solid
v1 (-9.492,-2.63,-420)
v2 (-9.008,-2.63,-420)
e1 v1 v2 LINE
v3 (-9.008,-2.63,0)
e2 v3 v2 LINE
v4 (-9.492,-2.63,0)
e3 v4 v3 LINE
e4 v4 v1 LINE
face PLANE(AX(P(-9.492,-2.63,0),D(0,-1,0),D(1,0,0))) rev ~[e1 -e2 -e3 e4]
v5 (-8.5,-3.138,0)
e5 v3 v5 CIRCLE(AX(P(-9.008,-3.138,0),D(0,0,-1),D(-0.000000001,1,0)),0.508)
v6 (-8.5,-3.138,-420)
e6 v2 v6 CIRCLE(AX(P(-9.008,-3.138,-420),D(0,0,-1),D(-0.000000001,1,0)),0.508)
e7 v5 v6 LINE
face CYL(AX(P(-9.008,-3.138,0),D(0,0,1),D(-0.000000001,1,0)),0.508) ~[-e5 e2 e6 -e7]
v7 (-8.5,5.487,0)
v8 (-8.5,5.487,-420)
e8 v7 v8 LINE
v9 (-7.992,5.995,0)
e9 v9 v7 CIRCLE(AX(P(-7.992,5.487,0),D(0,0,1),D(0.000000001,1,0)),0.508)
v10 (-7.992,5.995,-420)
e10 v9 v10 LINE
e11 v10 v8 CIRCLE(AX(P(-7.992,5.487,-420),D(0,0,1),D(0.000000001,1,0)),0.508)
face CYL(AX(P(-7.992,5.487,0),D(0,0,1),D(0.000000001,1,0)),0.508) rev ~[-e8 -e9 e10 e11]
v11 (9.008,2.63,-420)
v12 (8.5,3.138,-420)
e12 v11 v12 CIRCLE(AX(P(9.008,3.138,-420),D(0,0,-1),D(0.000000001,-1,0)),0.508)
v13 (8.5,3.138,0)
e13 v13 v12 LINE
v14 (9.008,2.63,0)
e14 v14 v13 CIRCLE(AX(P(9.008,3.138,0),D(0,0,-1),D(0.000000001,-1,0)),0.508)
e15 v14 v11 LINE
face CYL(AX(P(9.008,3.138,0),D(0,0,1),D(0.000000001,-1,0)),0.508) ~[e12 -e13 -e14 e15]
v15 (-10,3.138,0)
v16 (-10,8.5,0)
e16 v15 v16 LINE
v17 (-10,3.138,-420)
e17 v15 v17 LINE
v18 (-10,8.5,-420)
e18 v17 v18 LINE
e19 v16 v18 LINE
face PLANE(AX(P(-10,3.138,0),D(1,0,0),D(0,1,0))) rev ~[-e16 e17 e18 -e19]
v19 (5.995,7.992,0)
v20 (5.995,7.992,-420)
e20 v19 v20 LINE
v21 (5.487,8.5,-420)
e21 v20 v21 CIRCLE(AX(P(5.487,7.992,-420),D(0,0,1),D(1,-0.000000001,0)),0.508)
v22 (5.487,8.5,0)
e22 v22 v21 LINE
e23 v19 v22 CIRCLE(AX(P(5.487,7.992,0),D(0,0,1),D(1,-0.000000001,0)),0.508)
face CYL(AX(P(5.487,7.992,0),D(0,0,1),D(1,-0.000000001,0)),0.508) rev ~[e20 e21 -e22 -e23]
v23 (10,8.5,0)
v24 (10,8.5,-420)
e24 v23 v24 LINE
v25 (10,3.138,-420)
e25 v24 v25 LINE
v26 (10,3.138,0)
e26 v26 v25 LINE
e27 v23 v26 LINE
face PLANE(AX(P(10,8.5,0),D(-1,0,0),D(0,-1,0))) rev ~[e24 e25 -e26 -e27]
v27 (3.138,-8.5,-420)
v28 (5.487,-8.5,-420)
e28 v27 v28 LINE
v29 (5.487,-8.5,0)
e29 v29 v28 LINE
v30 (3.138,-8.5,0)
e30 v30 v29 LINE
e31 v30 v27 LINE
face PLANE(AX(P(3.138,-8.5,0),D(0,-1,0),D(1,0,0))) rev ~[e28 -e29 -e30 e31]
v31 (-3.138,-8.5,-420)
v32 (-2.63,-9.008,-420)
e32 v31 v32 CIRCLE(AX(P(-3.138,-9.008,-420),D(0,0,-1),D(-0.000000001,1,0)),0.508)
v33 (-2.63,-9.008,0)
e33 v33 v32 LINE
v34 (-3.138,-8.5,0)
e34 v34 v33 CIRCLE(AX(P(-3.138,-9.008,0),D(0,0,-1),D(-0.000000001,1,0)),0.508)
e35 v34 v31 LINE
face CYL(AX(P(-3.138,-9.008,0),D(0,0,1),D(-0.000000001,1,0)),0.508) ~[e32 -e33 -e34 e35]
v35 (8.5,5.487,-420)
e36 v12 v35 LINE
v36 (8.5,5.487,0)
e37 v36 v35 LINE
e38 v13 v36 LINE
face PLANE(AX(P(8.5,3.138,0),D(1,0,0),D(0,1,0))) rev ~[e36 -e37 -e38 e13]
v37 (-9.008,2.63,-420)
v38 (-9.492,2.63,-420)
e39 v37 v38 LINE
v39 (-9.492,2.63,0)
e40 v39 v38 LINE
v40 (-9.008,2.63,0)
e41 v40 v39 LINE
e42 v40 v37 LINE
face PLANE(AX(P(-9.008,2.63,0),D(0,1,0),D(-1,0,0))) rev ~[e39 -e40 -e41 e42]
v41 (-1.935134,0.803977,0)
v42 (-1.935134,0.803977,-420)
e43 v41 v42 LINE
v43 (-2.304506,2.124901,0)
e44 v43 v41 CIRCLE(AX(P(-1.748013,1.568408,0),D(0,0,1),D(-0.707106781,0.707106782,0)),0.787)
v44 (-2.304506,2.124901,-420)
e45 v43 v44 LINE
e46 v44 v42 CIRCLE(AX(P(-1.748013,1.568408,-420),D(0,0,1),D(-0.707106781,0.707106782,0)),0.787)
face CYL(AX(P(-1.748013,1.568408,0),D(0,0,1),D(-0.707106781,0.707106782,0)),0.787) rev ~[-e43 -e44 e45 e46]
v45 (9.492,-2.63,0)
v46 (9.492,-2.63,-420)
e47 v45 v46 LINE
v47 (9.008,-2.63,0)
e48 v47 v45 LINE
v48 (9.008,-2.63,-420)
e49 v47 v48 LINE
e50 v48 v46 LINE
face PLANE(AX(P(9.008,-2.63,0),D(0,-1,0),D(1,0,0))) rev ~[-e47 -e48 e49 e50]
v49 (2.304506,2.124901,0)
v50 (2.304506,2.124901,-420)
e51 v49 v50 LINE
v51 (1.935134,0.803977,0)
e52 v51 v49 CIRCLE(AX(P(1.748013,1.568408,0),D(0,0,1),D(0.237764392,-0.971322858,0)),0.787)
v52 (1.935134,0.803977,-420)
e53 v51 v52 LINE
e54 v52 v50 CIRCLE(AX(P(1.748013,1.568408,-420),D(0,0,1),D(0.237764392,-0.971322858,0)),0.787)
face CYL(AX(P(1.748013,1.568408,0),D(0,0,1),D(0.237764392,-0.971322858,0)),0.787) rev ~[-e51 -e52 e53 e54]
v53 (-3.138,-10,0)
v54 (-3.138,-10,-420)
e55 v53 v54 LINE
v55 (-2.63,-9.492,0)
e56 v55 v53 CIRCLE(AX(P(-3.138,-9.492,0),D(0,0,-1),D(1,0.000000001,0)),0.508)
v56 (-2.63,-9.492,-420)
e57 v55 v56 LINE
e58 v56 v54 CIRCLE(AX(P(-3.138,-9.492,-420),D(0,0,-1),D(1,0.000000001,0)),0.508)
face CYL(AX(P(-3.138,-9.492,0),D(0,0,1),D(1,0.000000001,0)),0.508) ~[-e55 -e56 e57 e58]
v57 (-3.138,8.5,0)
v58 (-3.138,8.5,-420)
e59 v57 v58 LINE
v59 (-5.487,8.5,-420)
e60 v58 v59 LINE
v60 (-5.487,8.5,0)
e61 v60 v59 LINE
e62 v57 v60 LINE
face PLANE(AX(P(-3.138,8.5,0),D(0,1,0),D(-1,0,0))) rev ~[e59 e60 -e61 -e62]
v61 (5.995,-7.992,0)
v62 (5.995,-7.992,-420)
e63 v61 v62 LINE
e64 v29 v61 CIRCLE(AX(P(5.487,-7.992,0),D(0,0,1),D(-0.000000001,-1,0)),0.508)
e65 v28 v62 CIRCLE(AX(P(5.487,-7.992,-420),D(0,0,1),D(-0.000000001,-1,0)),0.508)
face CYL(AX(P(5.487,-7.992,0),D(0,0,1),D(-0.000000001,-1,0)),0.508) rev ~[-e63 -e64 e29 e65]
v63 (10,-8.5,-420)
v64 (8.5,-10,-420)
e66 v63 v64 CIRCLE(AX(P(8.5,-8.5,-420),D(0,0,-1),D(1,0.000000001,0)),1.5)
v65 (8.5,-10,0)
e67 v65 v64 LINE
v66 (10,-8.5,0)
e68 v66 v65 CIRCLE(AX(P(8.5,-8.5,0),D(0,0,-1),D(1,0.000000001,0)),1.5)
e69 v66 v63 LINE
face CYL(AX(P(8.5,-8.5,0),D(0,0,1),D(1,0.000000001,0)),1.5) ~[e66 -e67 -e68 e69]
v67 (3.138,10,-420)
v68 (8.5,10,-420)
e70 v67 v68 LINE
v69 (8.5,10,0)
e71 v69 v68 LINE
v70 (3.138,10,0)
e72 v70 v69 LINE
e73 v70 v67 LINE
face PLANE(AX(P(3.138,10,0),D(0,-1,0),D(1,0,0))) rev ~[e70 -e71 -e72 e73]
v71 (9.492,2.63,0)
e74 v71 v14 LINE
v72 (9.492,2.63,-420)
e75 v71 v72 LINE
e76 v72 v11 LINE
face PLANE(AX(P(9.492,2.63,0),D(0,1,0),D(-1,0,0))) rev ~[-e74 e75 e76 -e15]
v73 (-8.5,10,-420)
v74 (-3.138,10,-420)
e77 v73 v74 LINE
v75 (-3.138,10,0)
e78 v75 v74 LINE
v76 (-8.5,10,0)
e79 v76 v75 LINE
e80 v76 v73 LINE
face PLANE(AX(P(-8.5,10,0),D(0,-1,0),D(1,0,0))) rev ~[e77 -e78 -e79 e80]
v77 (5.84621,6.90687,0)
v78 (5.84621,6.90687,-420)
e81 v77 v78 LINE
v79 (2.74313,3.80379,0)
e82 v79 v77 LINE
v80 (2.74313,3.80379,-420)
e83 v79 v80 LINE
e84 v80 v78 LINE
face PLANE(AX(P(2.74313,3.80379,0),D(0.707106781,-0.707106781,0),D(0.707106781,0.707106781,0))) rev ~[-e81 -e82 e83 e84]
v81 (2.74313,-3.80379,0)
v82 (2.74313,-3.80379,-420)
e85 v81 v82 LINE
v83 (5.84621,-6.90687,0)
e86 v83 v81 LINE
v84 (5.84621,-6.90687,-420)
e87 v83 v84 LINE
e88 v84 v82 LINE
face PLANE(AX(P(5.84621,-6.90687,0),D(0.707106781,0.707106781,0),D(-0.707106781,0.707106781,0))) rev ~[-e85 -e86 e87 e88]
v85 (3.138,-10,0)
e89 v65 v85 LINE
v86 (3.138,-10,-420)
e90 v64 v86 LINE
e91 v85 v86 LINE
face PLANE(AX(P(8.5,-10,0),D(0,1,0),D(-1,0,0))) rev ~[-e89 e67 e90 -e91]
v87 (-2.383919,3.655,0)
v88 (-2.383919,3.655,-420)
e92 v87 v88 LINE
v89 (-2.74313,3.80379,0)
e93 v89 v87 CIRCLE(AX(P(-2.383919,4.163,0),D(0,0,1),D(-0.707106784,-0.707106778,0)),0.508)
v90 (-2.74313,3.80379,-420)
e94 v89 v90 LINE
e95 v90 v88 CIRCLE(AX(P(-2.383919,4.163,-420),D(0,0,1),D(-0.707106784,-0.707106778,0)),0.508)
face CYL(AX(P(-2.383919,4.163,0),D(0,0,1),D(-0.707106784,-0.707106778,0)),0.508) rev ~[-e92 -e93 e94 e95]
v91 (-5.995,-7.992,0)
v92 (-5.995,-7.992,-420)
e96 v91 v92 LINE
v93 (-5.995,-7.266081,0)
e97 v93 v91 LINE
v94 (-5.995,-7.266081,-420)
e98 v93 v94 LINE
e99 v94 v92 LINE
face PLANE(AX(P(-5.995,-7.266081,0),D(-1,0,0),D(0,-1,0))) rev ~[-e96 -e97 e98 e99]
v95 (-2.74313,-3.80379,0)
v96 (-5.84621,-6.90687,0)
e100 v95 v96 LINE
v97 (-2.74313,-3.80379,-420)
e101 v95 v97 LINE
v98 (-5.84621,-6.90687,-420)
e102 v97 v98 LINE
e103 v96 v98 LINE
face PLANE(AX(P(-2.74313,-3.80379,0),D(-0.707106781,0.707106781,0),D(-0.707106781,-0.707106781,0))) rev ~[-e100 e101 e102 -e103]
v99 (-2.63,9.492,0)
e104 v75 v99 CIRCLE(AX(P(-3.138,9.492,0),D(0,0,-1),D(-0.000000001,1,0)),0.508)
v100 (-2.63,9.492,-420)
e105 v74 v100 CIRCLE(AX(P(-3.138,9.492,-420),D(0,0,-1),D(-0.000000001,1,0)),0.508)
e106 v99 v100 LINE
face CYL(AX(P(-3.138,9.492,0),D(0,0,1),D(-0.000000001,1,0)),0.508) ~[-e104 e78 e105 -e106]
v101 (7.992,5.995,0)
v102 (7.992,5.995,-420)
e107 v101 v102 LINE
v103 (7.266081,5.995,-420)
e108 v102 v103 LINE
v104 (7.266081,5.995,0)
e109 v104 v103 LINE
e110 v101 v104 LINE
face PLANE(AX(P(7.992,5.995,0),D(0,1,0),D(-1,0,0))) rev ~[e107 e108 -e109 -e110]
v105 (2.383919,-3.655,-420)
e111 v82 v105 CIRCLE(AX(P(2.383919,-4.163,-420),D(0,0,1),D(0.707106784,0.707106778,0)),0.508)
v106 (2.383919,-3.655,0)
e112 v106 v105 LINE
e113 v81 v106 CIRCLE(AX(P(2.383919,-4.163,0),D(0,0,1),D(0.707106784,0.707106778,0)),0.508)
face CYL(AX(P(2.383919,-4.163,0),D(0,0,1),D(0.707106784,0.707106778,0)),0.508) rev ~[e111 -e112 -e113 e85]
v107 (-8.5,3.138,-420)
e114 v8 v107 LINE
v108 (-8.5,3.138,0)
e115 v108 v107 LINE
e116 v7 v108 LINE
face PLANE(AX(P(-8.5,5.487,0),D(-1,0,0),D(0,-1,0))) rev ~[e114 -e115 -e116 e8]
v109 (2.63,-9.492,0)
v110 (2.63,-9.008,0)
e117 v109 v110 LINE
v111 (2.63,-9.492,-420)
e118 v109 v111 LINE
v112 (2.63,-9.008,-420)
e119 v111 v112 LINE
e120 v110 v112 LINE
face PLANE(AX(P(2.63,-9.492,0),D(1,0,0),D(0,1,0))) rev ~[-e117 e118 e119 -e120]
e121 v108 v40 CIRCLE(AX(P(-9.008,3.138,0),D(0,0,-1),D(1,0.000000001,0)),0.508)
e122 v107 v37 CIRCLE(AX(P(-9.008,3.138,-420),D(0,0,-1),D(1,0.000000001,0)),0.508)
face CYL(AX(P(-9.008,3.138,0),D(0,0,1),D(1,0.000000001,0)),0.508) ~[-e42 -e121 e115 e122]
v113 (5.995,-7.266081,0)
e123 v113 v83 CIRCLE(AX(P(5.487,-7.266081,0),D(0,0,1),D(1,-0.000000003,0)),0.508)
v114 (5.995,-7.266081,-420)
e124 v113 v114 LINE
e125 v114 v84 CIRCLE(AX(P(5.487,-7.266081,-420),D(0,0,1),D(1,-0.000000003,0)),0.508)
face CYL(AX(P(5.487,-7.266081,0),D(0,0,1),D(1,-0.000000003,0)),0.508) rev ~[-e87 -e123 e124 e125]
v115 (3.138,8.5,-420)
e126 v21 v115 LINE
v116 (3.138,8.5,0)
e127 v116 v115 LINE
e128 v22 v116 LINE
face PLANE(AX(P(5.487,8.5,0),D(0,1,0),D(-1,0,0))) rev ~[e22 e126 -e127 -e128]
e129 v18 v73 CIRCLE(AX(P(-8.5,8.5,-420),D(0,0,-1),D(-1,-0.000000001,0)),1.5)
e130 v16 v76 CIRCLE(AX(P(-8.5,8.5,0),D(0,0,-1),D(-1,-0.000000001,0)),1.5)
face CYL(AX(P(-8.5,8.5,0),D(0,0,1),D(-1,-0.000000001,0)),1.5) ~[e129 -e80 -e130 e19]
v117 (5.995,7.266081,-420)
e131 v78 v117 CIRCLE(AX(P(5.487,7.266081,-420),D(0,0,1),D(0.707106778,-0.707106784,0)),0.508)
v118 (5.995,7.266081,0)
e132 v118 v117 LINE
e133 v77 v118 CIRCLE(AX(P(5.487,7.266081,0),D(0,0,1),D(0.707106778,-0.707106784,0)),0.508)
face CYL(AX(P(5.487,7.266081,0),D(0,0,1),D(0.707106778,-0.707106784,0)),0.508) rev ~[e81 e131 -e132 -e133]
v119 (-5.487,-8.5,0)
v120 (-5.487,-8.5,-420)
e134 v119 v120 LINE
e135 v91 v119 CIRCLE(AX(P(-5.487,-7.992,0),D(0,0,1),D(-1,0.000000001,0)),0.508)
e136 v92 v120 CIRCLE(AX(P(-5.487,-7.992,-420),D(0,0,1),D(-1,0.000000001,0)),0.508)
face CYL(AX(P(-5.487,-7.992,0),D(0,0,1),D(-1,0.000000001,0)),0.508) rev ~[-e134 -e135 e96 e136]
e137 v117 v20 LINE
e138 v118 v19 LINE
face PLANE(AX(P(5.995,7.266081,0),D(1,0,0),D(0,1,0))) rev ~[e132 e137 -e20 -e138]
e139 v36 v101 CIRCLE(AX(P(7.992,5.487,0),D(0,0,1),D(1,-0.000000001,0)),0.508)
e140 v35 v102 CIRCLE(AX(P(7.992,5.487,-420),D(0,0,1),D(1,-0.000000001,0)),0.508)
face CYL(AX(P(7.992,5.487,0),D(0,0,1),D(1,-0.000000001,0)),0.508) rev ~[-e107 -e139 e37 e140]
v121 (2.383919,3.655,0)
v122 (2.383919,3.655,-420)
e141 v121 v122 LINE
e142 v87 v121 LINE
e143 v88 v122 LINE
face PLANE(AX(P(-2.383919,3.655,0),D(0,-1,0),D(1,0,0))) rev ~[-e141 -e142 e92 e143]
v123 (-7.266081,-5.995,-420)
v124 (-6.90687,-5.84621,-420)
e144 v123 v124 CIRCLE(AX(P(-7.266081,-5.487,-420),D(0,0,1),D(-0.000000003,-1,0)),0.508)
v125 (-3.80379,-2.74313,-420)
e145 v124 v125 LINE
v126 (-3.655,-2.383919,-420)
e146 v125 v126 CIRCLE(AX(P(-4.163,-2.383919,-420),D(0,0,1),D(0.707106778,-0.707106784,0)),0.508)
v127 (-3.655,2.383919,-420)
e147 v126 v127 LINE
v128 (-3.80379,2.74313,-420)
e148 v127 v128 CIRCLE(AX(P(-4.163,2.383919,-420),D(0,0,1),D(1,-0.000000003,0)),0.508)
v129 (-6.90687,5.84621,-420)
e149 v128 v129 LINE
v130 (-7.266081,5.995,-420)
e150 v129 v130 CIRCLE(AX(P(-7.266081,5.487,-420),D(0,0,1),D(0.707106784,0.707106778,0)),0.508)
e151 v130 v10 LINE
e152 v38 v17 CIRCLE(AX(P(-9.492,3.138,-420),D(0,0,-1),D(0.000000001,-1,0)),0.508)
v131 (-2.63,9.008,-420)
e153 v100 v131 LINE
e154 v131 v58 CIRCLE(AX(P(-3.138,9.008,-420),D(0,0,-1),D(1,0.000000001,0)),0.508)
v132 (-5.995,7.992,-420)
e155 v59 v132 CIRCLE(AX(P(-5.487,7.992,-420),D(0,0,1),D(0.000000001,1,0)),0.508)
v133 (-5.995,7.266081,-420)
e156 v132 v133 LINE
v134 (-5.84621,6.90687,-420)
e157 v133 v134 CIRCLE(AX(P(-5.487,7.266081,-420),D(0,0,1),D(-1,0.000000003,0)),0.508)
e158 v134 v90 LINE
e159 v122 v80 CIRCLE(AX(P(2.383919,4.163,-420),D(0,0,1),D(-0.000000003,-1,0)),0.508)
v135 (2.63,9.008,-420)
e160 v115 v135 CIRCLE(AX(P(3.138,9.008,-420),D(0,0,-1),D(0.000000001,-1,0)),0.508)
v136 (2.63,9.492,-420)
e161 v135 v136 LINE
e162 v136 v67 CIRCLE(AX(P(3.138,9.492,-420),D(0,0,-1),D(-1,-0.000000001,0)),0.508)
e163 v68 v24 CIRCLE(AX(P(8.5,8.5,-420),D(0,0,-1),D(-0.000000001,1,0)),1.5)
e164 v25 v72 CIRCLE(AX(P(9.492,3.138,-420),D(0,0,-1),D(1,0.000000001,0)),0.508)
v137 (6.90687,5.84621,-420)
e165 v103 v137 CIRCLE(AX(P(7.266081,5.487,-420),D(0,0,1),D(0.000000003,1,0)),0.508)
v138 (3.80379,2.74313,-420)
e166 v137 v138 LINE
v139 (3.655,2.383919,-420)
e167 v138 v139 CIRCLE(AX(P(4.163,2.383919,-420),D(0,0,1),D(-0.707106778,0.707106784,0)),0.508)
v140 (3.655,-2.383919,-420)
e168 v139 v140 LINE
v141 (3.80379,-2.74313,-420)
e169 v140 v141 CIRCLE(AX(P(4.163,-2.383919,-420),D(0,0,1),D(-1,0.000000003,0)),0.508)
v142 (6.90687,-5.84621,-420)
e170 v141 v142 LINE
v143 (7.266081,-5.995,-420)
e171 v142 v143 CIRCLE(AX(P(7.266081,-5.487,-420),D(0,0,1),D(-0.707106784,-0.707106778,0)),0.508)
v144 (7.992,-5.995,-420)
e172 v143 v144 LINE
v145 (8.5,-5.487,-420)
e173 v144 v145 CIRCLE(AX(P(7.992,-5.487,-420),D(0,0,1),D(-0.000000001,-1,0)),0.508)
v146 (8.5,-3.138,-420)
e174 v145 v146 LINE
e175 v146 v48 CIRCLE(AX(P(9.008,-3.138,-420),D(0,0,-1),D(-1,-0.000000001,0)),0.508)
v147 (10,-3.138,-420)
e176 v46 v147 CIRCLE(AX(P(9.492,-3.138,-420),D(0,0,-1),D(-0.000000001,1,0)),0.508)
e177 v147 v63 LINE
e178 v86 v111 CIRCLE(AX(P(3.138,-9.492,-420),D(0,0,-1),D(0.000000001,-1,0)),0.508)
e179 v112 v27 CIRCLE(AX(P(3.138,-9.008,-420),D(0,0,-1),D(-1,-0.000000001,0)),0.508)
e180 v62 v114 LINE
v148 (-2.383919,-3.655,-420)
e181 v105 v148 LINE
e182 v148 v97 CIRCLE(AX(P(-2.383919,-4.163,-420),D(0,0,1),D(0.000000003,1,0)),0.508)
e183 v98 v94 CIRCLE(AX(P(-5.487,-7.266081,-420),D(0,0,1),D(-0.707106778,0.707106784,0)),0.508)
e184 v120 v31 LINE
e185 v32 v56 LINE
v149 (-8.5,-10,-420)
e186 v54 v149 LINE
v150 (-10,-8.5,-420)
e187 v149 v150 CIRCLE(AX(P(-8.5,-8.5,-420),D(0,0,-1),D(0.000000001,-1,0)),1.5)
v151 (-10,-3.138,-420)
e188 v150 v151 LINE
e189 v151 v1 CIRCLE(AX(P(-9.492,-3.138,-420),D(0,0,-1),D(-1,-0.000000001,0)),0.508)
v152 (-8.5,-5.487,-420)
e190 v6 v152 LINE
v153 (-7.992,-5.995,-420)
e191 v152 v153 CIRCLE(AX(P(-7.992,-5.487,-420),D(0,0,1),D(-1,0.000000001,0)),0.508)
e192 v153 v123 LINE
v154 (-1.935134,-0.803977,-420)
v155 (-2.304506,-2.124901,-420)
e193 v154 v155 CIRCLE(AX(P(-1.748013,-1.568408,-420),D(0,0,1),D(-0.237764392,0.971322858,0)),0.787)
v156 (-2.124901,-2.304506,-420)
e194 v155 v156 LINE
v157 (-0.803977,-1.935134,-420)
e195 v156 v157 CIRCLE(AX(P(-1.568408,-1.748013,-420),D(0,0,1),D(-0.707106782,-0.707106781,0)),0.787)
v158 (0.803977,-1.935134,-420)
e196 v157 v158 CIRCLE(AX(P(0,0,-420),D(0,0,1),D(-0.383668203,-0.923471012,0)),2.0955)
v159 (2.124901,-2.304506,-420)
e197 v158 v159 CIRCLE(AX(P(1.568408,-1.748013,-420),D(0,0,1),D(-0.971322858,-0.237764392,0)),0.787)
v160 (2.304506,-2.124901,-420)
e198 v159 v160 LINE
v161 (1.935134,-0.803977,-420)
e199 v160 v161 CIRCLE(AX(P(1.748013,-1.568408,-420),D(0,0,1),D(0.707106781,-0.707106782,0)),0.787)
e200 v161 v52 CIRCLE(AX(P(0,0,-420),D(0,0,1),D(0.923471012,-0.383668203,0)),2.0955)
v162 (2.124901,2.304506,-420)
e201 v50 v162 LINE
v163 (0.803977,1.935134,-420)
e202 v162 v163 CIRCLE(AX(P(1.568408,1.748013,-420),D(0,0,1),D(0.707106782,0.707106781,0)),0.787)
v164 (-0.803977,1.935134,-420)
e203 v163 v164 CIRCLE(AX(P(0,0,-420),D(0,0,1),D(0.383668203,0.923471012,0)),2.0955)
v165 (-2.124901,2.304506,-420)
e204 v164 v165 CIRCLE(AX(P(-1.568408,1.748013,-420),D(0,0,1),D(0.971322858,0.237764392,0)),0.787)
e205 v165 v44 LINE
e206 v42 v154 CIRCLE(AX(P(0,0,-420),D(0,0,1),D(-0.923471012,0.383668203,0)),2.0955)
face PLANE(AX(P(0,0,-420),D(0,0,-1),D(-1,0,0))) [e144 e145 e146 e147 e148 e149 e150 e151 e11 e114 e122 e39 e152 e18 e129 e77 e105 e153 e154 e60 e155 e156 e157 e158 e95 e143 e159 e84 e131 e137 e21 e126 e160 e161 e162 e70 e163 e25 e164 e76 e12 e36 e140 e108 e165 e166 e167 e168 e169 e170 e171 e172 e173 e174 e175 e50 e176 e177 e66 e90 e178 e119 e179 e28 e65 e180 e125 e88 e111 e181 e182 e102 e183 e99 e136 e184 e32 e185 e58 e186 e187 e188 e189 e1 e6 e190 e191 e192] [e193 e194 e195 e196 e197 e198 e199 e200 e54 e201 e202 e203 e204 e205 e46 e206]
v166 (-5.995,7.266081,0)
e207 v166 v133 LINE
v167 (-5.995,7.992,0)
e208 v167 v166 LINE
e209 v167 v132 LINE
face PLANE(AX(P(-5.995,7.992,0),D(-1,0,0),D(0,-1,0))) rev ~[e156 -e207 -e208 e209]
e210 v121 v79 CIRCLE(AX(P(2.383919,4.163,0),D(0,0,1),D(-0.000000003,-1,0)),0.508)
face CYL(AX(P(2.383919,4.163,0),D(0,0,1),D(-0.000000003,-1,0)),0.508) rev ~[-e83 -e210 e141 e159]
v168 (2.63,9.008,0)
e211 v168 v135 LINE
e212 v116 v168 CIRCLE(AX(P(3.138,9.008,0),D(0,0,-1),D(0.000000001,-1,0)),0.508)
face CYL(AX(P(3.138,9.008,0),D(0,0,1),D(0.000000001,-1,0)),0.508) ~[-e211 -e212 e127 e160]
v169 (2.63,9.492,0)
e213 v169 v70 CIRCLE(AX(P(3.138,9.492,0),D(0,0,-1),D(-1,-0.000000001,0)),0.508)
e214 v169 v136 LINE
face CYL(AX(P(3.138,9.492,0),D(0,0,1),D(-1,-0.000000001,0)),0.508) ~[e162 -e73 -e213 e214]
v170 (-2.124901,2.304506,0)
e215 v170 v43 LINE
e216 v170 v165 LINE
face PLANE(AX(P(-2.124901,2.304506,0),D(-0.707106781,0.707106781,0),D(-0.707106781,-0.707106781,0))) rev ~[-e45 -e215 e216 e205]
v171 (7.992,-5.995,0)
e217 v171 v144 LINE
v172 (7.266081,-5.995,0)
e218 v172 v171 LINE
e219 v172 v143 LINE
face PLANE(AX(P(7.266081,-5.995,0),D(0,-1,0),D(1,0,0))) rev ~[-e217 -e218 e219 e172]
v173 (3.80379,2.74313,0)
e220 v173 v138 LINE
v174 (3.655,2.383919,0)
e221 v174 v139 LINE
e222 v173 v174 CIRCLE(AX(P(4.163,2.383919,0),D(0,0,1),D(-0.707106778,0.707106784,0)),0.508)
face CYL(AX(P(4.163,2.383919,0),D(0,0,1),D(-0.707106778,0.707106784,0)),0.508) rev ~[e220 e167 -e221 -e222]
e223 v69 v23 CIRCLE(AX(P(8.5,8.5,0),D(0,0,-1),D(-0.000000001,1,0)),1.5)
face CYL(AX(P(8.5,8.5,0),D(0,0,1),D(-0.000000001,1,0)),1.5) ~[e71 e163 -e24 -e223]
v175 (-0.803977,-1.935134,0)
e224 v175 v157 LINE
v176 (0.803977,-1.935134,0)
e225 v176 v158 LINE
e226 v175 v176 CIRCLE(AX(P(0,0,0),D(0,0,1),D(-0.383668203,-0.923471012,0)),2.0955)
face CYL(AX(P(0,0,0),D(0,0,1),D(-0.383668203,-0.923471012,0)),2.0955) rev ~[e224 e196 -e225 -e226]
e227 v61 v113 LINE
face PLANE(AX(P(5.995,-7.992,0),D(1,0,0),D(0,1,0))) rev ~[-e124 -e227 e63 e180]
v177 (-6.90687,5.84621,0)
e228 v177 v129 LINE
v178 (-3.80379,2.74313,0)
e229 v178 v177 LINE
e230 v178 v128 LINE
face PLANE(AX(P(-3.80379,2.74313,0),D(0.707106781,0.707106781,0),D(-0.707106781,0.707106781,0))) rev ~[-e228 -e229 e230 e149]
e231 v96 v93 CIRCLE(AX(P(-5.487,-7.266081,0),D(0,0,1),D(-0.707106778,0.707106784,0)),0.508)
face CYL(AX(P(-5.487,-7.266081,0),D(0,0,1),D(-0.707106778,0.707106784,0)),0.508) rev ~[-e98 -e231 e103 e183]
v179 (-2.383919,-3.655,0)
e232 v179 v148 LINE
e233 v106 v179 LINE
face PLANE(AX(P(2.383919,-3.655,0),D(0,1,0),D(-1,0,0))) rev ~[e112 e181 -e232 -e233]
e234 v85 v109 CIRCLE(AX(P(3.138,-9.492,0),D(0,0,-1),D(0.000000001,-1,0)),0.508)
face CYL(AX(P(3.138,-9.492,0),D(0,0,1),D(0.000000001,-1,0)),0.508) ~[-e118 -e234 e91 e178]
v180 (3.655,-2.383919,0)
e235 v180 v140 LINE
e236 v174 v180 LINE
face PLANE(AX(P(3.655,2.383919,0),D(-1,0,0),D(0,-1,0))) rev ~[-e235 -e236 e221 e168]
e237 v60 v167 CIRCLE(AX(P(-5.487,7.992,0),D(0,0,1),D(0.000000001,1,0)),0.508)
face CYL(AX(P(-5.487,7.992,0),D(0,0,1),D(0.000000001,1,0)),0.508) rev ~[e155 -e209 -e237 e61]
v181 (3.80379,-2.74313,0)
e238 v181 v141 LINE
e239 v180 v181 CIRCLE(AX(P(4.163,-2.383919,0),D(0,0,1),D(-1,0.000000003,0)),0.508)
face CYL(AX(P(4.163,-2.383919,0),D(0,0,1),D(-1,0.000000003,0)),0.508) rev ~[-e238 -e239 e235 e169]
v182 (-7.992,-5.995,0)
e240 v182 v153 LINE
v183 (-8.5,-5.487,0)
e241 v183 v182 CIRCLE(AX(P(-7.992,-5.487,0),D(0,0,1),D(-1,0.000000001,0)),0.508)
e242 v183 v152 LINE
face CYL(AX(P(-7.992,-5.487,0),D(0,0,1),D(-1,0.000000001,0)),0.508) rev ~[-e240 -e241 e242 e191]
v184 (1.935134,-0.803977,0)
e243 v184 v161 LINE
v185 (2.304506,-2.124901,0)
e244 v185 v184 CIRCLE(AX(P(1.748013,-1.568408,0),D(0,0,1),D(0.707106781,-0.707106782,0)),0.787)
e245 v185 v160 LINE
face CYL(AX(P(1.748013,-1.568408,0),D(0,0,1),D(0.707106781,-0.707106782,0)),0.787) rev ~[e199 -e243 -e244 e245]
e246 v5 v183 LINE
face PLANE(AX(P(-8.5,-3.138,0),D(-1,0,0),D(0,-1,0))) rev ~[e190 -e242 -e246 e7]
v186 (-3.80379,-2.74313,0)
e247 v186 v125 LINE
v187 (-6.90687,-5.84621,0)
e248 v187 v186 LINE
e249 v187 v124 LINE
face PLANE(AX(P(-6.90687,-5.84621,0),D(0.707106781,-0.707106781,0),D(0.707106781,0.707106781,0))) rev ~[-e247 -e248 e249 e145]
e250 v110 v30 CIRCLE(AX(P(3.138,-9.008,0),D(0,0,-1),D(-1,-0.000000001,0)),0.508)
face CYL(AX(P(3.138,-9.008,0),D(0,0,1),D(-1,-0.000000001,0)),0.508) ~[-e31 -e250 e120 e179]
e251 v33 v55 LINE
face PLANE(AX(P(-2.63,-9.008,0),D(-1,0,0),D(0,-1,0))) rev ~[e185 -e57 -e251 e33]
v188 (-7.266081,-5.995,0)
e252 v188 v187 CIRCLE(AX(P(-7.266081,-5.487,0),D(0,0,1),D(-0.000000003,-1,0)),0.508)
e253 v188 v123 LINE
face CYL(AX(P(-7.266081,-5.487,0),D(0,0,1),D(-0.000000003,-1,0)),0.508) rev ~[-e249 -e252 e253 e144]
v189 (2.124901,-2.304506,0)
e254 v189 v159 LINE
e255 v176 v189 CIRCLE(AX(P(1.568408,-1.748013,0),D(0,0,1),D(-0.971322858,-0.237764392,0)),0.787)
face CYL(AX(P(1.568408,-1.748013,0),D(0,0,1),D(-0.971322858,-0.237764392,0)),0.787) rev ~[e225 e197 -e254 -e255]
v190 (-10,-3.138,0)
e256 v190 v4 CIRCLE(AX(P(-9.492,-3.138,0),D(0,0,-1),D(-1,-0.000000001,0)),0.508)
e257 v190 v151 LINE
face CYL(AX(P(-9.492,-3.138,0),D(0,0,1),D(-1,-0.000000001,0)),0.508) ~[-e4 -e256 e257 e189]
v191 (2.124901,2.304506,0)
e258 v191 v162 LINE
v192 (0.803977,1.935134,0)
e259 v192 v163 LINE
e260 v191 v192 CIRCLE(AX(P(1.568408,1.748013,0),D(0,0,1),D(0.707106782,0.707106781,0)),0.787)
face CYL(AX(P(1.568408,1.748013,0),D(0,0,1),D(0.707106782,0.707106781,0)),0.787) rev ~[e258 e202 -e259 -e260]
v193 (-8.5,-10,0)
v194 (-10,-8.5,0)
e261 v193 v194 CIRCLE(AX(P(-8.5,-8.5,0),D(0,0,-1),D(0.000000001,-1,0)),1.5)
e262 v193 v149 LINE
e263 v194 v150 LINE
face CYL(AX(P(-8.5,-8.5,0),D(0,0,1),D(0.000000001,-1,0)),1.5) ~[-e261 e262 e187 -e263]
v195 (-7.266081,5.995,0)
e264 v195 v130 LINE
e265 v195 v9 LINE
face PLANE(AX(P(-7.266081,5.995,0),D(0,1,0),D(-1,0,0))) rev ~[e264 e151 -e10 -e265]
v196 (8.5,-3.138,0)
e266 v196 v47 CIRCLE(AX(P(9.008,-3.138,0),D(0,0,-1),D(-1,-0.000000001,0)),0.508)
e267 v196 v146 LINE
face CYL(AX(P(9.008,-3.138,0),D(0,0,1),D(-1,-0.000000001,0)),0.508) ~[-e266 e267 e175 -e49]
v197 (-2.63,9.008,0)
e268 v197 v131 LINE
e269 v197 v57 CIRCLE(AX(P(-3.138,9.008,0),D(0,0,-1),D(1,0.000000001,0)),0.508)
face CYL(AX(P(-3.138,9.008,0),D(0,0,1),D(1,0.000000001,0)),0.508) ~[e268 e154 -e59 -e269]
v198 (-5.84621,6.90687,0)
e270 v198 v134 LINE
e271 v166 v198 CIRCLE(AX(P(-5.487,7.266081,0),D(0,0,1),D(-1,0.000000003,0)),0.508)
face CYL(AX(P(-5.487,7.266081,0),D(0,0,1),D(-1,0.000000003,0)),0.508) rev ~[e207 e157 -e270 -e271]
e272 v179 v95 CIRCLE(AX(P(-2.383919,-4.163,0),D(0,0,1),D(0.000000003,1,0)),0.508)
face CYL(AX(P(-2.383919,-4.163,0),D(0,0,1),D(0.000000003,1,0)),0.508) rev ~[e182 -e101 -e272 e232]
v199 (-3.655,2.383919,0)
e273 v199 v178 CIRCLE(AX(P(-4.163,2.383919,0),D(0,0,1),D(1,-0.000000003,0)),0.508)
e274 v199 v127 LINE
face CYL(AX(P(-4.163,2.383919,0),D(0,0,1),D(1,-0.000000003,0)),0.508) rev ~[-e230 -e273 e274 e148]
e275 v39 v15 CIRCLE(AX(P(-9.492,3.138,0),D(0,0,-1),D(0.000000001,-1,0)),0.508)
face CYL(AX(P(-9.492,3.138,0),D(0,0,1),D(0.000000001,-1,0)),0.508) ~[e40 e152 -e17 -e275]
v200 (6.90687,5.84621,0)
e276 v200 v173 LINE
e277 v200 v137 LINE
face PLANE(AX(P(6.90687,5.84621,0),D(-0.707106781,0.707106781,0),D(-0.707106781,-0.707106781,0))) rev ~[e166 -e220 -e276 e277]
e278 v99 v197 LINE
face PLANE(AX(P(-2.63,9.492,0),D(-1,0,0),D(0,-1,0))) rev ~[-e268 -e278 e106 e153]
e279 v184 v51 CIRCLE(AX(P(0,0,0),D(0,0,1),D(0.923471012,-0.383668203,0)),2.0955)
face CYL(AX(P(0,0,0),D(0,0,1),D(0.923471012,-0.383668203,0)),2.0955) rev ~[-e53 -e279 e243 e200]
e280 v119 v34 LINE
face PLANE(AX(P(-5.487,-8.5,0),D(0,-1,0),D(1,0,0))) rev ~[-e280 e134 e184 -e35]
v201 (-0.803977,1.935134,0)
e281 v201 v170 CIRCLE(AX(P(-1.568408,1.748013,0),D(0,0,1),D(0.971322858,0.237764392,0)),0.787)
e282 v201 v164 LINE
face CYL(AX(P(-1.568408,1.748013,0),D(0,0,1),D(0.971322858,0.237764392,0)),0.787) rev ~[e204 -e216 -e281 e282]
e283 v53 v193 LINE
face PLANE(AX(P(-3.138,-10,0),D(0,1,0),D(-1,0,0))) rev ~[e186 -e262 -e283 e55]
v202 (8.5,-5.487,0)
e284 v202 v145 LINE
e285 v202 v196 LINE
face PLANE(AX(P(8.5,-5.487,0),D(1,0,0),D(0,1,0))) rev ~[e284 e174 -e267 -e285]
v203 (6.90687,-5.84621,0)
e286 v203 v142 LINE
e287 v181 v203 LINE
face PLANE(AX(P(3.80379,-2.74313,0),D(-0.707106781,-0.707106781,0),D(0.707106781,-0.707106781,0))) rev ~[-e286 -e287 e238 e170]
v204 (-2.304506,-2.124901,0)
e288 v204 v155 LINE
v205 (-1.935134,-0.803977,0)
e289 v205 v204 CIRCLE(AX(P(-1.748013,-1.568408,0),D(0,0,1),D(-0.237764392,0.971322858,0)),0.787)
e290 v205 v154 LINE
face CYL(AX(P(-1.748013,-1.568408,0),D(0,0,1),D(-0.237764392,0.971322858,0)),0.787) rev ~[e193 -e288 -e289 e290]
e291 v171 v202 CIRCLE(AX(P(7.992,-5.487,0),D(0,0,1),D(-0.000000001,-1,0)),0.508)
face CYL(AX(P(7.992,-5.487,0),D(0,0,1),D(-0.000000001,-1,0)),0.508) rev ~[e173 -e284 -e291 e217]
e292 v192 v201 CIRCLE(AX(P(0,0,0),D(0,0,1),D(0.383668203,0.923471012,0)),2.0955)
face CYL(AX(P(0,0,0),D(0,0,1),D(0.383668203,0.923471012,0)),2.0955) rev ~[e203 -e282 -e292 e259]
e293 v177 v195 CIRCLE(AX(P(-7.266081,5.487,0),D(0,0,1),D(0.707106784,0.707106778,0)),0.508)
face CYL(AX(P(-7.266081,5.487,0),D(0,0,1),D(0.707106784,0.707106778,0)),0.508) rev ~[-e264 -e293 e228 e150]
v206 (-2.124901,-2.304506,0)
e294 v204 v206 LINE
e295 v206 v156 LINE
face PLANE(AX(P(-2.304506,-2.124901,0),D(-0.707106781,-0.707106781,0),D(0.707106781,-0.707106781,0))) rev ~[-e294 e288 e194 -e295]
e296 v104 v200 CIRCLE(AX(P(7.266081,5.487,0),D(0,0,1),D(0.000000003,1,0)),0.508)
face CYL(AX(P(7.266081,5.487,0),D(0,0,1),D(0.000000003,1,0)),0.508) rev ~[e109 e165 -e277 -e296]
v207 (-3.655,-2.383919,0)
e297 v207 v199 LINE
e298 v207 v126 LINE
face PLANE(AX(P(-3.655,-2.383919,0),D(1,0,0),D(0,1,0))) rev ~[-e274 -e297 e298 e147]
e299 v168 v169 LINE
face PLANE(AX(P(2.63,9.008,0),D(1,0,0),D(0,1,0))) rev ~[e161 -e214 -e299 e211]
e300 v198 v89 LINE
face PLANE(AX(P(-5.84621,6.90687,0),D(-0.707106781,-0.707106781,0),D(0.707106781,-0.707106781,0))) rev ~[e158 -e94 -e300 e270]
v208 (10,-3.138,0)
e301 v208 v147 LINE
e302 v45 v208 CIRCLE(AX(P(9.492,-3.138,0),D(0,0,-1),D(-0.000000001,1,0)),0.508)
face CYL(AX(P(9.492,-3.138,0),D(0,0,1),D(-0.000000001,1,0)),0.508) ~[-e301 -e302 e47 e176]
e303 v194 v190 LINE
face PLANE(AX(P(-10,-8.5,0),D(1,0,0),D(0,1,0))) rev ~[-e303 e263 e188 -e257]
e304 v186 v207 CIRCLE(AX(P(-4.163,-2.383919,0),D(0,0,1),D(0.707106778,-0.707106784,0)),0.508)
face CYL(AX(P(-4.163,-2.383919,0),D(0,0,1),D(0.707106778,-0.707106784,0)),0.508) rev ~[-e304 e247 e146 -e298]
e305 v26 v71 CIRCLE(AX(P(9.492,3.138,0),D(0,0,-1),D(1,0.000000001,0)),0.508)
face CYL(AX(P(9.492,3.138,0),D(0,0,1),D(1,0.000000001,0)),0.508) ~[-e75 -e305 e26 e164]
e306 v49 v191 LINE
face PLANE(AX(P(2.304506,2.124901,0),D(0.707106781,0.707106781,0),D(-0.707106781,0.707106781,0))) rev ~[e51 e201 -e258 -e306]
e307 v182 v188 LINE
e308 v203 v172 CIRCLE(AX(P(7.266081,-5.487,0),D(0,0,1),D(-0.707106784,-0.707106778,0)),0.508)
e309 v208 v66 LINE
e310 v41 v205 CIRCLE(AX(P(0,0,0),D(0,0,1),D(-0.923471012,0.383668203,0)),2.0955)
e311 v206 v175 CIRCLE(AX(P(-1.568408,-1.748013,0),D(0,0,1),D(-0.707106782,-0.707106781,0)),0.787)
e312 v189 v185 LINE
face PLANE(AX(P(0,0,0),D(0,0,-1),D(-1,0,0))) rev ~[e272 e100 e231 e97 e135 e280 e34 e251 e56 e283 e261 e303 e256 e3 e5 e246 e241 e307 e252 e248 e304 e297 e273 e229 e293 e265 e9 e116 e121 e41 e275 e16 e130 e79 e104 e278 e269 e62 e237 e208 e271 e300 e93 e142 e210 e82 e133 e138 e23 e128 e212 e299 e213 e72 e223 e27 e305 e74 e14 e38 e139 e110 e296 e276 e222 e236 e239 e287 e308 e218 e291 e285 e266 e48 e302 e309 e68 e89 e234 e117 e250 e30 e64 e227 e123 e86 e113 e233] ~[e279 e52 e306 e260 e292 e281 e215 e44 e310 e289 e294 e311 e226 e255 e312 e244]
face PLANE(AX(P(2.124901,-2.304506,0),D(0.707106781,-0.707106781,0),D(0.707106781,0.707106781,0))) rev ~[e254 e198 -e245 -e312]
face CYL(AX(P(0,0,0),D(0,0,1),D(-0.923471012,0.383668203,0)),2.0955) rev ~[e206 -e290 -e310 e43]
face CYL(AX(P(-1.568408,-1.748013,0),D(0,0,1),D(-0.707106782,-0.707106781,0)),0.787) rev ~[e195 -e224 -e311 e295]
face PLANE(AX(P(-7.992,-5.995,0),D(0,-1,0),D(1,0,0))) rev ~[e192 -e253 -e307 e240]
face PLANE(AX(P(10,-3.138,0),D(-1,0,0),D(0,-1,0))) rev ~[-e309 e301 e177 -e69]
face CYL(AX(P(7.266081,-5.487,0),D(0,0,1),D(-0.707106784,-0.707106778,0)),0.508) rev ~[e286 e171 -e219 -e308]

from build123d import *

# Parameters (mm, degrees)
EXTRUDE1_DEPTH = 420


with BuildPart() as part:
    # Sketch1 → Extrude1 (new body)
    with BuildSketch(Plane.XY):
        with BuildLine():
            Line((9.492, 2.63), (9.008, 2.63))
            ThreePointArc((9.008, 2.63), (8.648789755, 2.778789755), (8.5, 3.138))
            Line((8.5, 3.138), (8.5, 5.487))
            ThreePointArc((8.5, 5.487), (8.351210245, 5.846210245), (7.992, 5.995))
            Line((7.992, 5.995), (7.266080661, 5.995))
            ThreePointArc((7.266080661, 5.995), (7.071677478, 5.956330803), (6.906870417, 5.846210245))
            Line((6.906870417, 5.846210245), (3.803789755, 2.743129583))
            ThreePointArc((3.803789755, 2.743129583), (3.693669197, 2.578322522), (3.655, 2.383919339))
            Line((3.655, 2.383919339), (3.655, -2.383919339))
            ThreePointArc((3.655, -2.383919339), (3.693669197, -2.578322522), (3.803789755, -2.743129583))
            Line((3.803789755, -2.743129583), (6.906870417, -5.846210245))
            ThreePointArc((6.906870417, -5.846210245), (7.071677478, -5.956330803), (7.266080661, -5.995))
            Line((7.266080661, -5.995), (7.992, -5.995))
            ThreePointArc((7.992, -5.995), (8.351210245, -5.846210245), (8.5, -5.487))
            Line((8.5, -5.487), (8.5, -3.138))
            ThreePointArc((8.5, -3.138), (8.648789755, -2.778789755), (9.008, -2.63))
            Line((9.008, -2.63), (9.492, -2.63))
            ThreePointArc((9.492, -2.63), (9.851210245, -2.778789755), (10, -3.138))
            Line((10, -3.138), (10, -8.5))
            ThreePointArc((10, -8.5), (9.560660172, -9.560660172), (8.5, -10))
            Line((8.5, -10), (3.138, -10))
            ThreePointArc((3.138, -10), (2.778789755, -9.851210245), (2.63, -9.492))
            Line((2.63, -9.492), (2.63, -9.008))
            ThreePointArc((2.63, -9.008), (2.778789755, -8.648789755), (3.138, -8.5))
            Line((3.138, -8.5), (5.487, -8.5))
            ThreePointArc((5.487, -8.5), (5.846210245, -8.351210245), (5.995, -7.992))
            Line((5.995, -7.992), (5.995, -7.266080661))
            ThreePointArc((5.995, -7.266080661), (5.956330803, -7.071677478), (5.846210245, -6.906870417))
            Line((5.846210245, -6.906870417), (2.743129583, -3.803789755))
            ThreePointArc((2.743129583, -3.803789755), (2.578322522, -3.693669197), (2.383919339, -3.655))
            Line((2.383919339, -3.655), (-2.383919339, -3.655))
            ThreePointArc((-2.383919339, -3.655), (-2.578322522, -3.693669197), (-2.743129583, -3.803789755))
            Line((-2.743129583, -3.803789755), (-5.846210245, -6.906870417))
            ThreePointArc((-5.846210245, -6.906870417), (-5.956330803, -7.071677478), (-5.995, -7.266080661))
            Line((-5.995, -7.266080661), (-5.995, -7.992))
            ThreePointArc((-5.995, -7.992), (-5.846210245, -8.351210245), (-5.487, -8.5))
            Line((-5.487, -8.5), (-3.138, -8.5))
            ThreePointArc((-3.138, -8.5), (-2.778789755, -8.648789755), (-2.63, -9.008))
            Line((-2.63, -9.008), (-2.63, -9.492))
            ThreePointArc((-2.63, -9.492), (-2.778789755, -9.851210245), (-3.138, -10))
            Line((-3.138, -10), (-8.5, -10))
            ThreePointArc((-8.5, -10), (-9.560660172, -9.560660172), (-10, -8.5))
            Line((-10, -8.5), (-10, -3.138))
            ThreePointArc((-10, -3.138), (-9.851210245, -2.778789755), (-9.492, -2.63))
            Line((-9.492, -2.63), (-9.008, -2.63))
            ThreePointArc((-9.008, -2.63), (-8.648789755, -2.778789755), (-8.5, -3.138))
            Line((-8.5, -3.138), (-8.5, -5.487))
            ThreePointArc((-8.5, -5.487), (-8.351210245, -5.846210245), (-7.992, -5.995))
            Line((-7.992, -5.995), (-7.266080661, -5.995))
            ThreePointArc((-7.266080661, -5.995), (-7.071677478, -5.956330803), (-6.906870417, -5.846210245))
            Line((-6.906870417, -5.846210245), (-3.803789755, -2.743129583))
            ThreePointArc((-3.803789755, -2.743129583), (-3.693669197, -2.578322522), (-3.655, -2.383919339))
            Line((-3.655, -2.383919339), (-3.655, 2.383919339))
            ThreePointArc((-3.655, 2.383919339), (-3.693669197, 2.578322522), (-3.803789755, 2.743129583))
            Line((-3.803789755, 2.743129583), (-6.906870417, 5.846210245))
            ThreePointArc((-6.906870417, 5.846210245), (-7.071677478, 5.956330803), (-7.266080661, 5.995))
            Line((-7.266080661, 5.995), (-7.992, 5.995))
            ThreePointArc((-7.992, 5.995), (-8.351210245, 5.846210245), (-8.5, 5.487))
            Line((-8.5, 5.487), (-8.5, 3.138))
            ThreePointArc((-8.5, 3.138), (-8.648789755, 2.778789755), (-9.008, 2.63))
            Line((-9.008, 2.63), (-9.492, 2.63))
            ThreePointArc((-9.492, 2.63), (-9.851210245, 2.778789755), (-10, 3.138))
            Line((-10, 3.138), (-10, 8.5))
            ThreePointArc((-10, 8.5), (-9.560660172, 9.560660172), (-8.5, 10))
            Line((-8.5, 10), (-3.138, 10))
            ThreePointArc((-3.138, 10), (-2.778789755, 9.851210245), (-2.63, 9.492))
            Line((-2.63, 9.492), (-2.63, 9.008))
            ThreePointArc((-2.63, 9.008), (-2.778789755, 8.648789755), (-3.138, 8.5))
            Line((-3.138, 8.5), (-5.487, 8.5))
            ThreePointArc((-5.487, 8.5), (-5.846210245, 8.351210245), (-5.995, 7.992))
            Line((-5.995, 7.992), (-5.995, 7.266080661))
            ThreePointArc((-5.995, 7.266080661), (-5.956330803, 7.071677478), (-5.846210245, 6.906870417))
            Line((-5.846210245, 6.906870417), (-2.743129583, 3.803789755))
            ThreePointArc((-2.743129583, 3.803789755), (-2.578322522, 3.693669197), (-2.383919339, 3.655))
            Line((-2.383919339, 3.655), (2.383919339, 3.655))
            ThreePointArc((2.383919339, 3.655), (2.578322522, 3.693669197), (2.743129583, 3.803789755))
            Line((2.743129583, 3.803789755), (5.846210245, 6.906870417))
            ThreePointArc((5.846210245, 6.906870417), (5.956330803, 7.071677478), (5.995, 7.266080661))
            Line((5.995, 7.266080661), (5.995, 7.992))
            ThreePointArc((5.995, 7.992), (5.846210245, 8.351210245), (5.487, 8.5))
            Line((5.487, 8.5), (3.138, 8.5))
            ThreePointArc((3.138, 8.5), (2.778789755, 8.648789755), (2.63, 9.008))
            Line((2.63, 9.008), (2.63, 9.492))
            ThreePointArc((2.63, 9.492), (2.778789755, 9.851210245), (3.138, 10))
            Line((3.138, 10), (8.5, 10))
            ThreePointArc((8.5, 10), (9.560660172, 9.560660172), (10, 8.5))
            Line((10, 8.5), (10, 3.138))
            ThreePointArc((10, 3.138), (9.851210245, 2.778789755), (9.492, 2.63))
        make_face()
        with BuildLine():
            Line((2.124900844, -2.304505966), (2.304505966, -2.124900844))
            ThreePointArc((2.304505966, -2.124900844), (2.505938017, -1.356467811), (1.935133506, -0.803976718))
            ThreePointArc((1.935133506, -0.803976718), (2.0955, 0), (1.935133506, 0.803976718))
            ThreePointArc((1.935133506, 0.803976718), (2.505938017, 1.356467811), (2.304505966, 2.124900844))
            Line((2.304505966, 2.124900844), (2.124900844, 2.304505966))
            ThreePointArc((2.124900844, 2.304505966), (1.356467811, 2.505938017), (0.803976718, 1.935133506))
            ThreePointArc((0.803976718, 1.935133506), (0, 2.0955), (-0.803976718, 1.935133506))
            ThreePointArc((-0.803976718, 1.935133506), (-1.356467811, 2.505938017), (-2.124900844, 2.304505966))
            Line((-2.124900844, 2.304505966), (-2.304505966, 2.124900844))
            ThreePointArc((-2.304505966, 2.124900844), (-2.505938017, 1.356467811), (-1.935133506, 0.803976718))
            ThreePointArc((-1.935133506, 0.803976718), (-2.0955, 0), (-1.935133506, -0.803976718))
            ThreePointArc((-1.935133506, -0.803976718), (-2.505938017, -1.356467811), (-2.304505966, -2.124900844))
            Line((-2.304505966, -2.124900844), (-2.124900844, -2.304505966))
            ThreePointArc((-2.124900844, -2.304505966), (-1.356467811, -2.505938017), (-0.803976718, -1.935133506))
            ThreePointArc((-0.803976718, -1.935133506), (0, -2.0955), (0.803976718, -1.935133506))
            ThreePointArc((0.803976718, -1.935133506), (1.356467811, -2.505938017), (2.124900844, -2.304505966))
        make_face(mode=Mode.SUBTRACT)
    extrude(amount=-EXTRUDE1_DEPTH)


solid = part.part
